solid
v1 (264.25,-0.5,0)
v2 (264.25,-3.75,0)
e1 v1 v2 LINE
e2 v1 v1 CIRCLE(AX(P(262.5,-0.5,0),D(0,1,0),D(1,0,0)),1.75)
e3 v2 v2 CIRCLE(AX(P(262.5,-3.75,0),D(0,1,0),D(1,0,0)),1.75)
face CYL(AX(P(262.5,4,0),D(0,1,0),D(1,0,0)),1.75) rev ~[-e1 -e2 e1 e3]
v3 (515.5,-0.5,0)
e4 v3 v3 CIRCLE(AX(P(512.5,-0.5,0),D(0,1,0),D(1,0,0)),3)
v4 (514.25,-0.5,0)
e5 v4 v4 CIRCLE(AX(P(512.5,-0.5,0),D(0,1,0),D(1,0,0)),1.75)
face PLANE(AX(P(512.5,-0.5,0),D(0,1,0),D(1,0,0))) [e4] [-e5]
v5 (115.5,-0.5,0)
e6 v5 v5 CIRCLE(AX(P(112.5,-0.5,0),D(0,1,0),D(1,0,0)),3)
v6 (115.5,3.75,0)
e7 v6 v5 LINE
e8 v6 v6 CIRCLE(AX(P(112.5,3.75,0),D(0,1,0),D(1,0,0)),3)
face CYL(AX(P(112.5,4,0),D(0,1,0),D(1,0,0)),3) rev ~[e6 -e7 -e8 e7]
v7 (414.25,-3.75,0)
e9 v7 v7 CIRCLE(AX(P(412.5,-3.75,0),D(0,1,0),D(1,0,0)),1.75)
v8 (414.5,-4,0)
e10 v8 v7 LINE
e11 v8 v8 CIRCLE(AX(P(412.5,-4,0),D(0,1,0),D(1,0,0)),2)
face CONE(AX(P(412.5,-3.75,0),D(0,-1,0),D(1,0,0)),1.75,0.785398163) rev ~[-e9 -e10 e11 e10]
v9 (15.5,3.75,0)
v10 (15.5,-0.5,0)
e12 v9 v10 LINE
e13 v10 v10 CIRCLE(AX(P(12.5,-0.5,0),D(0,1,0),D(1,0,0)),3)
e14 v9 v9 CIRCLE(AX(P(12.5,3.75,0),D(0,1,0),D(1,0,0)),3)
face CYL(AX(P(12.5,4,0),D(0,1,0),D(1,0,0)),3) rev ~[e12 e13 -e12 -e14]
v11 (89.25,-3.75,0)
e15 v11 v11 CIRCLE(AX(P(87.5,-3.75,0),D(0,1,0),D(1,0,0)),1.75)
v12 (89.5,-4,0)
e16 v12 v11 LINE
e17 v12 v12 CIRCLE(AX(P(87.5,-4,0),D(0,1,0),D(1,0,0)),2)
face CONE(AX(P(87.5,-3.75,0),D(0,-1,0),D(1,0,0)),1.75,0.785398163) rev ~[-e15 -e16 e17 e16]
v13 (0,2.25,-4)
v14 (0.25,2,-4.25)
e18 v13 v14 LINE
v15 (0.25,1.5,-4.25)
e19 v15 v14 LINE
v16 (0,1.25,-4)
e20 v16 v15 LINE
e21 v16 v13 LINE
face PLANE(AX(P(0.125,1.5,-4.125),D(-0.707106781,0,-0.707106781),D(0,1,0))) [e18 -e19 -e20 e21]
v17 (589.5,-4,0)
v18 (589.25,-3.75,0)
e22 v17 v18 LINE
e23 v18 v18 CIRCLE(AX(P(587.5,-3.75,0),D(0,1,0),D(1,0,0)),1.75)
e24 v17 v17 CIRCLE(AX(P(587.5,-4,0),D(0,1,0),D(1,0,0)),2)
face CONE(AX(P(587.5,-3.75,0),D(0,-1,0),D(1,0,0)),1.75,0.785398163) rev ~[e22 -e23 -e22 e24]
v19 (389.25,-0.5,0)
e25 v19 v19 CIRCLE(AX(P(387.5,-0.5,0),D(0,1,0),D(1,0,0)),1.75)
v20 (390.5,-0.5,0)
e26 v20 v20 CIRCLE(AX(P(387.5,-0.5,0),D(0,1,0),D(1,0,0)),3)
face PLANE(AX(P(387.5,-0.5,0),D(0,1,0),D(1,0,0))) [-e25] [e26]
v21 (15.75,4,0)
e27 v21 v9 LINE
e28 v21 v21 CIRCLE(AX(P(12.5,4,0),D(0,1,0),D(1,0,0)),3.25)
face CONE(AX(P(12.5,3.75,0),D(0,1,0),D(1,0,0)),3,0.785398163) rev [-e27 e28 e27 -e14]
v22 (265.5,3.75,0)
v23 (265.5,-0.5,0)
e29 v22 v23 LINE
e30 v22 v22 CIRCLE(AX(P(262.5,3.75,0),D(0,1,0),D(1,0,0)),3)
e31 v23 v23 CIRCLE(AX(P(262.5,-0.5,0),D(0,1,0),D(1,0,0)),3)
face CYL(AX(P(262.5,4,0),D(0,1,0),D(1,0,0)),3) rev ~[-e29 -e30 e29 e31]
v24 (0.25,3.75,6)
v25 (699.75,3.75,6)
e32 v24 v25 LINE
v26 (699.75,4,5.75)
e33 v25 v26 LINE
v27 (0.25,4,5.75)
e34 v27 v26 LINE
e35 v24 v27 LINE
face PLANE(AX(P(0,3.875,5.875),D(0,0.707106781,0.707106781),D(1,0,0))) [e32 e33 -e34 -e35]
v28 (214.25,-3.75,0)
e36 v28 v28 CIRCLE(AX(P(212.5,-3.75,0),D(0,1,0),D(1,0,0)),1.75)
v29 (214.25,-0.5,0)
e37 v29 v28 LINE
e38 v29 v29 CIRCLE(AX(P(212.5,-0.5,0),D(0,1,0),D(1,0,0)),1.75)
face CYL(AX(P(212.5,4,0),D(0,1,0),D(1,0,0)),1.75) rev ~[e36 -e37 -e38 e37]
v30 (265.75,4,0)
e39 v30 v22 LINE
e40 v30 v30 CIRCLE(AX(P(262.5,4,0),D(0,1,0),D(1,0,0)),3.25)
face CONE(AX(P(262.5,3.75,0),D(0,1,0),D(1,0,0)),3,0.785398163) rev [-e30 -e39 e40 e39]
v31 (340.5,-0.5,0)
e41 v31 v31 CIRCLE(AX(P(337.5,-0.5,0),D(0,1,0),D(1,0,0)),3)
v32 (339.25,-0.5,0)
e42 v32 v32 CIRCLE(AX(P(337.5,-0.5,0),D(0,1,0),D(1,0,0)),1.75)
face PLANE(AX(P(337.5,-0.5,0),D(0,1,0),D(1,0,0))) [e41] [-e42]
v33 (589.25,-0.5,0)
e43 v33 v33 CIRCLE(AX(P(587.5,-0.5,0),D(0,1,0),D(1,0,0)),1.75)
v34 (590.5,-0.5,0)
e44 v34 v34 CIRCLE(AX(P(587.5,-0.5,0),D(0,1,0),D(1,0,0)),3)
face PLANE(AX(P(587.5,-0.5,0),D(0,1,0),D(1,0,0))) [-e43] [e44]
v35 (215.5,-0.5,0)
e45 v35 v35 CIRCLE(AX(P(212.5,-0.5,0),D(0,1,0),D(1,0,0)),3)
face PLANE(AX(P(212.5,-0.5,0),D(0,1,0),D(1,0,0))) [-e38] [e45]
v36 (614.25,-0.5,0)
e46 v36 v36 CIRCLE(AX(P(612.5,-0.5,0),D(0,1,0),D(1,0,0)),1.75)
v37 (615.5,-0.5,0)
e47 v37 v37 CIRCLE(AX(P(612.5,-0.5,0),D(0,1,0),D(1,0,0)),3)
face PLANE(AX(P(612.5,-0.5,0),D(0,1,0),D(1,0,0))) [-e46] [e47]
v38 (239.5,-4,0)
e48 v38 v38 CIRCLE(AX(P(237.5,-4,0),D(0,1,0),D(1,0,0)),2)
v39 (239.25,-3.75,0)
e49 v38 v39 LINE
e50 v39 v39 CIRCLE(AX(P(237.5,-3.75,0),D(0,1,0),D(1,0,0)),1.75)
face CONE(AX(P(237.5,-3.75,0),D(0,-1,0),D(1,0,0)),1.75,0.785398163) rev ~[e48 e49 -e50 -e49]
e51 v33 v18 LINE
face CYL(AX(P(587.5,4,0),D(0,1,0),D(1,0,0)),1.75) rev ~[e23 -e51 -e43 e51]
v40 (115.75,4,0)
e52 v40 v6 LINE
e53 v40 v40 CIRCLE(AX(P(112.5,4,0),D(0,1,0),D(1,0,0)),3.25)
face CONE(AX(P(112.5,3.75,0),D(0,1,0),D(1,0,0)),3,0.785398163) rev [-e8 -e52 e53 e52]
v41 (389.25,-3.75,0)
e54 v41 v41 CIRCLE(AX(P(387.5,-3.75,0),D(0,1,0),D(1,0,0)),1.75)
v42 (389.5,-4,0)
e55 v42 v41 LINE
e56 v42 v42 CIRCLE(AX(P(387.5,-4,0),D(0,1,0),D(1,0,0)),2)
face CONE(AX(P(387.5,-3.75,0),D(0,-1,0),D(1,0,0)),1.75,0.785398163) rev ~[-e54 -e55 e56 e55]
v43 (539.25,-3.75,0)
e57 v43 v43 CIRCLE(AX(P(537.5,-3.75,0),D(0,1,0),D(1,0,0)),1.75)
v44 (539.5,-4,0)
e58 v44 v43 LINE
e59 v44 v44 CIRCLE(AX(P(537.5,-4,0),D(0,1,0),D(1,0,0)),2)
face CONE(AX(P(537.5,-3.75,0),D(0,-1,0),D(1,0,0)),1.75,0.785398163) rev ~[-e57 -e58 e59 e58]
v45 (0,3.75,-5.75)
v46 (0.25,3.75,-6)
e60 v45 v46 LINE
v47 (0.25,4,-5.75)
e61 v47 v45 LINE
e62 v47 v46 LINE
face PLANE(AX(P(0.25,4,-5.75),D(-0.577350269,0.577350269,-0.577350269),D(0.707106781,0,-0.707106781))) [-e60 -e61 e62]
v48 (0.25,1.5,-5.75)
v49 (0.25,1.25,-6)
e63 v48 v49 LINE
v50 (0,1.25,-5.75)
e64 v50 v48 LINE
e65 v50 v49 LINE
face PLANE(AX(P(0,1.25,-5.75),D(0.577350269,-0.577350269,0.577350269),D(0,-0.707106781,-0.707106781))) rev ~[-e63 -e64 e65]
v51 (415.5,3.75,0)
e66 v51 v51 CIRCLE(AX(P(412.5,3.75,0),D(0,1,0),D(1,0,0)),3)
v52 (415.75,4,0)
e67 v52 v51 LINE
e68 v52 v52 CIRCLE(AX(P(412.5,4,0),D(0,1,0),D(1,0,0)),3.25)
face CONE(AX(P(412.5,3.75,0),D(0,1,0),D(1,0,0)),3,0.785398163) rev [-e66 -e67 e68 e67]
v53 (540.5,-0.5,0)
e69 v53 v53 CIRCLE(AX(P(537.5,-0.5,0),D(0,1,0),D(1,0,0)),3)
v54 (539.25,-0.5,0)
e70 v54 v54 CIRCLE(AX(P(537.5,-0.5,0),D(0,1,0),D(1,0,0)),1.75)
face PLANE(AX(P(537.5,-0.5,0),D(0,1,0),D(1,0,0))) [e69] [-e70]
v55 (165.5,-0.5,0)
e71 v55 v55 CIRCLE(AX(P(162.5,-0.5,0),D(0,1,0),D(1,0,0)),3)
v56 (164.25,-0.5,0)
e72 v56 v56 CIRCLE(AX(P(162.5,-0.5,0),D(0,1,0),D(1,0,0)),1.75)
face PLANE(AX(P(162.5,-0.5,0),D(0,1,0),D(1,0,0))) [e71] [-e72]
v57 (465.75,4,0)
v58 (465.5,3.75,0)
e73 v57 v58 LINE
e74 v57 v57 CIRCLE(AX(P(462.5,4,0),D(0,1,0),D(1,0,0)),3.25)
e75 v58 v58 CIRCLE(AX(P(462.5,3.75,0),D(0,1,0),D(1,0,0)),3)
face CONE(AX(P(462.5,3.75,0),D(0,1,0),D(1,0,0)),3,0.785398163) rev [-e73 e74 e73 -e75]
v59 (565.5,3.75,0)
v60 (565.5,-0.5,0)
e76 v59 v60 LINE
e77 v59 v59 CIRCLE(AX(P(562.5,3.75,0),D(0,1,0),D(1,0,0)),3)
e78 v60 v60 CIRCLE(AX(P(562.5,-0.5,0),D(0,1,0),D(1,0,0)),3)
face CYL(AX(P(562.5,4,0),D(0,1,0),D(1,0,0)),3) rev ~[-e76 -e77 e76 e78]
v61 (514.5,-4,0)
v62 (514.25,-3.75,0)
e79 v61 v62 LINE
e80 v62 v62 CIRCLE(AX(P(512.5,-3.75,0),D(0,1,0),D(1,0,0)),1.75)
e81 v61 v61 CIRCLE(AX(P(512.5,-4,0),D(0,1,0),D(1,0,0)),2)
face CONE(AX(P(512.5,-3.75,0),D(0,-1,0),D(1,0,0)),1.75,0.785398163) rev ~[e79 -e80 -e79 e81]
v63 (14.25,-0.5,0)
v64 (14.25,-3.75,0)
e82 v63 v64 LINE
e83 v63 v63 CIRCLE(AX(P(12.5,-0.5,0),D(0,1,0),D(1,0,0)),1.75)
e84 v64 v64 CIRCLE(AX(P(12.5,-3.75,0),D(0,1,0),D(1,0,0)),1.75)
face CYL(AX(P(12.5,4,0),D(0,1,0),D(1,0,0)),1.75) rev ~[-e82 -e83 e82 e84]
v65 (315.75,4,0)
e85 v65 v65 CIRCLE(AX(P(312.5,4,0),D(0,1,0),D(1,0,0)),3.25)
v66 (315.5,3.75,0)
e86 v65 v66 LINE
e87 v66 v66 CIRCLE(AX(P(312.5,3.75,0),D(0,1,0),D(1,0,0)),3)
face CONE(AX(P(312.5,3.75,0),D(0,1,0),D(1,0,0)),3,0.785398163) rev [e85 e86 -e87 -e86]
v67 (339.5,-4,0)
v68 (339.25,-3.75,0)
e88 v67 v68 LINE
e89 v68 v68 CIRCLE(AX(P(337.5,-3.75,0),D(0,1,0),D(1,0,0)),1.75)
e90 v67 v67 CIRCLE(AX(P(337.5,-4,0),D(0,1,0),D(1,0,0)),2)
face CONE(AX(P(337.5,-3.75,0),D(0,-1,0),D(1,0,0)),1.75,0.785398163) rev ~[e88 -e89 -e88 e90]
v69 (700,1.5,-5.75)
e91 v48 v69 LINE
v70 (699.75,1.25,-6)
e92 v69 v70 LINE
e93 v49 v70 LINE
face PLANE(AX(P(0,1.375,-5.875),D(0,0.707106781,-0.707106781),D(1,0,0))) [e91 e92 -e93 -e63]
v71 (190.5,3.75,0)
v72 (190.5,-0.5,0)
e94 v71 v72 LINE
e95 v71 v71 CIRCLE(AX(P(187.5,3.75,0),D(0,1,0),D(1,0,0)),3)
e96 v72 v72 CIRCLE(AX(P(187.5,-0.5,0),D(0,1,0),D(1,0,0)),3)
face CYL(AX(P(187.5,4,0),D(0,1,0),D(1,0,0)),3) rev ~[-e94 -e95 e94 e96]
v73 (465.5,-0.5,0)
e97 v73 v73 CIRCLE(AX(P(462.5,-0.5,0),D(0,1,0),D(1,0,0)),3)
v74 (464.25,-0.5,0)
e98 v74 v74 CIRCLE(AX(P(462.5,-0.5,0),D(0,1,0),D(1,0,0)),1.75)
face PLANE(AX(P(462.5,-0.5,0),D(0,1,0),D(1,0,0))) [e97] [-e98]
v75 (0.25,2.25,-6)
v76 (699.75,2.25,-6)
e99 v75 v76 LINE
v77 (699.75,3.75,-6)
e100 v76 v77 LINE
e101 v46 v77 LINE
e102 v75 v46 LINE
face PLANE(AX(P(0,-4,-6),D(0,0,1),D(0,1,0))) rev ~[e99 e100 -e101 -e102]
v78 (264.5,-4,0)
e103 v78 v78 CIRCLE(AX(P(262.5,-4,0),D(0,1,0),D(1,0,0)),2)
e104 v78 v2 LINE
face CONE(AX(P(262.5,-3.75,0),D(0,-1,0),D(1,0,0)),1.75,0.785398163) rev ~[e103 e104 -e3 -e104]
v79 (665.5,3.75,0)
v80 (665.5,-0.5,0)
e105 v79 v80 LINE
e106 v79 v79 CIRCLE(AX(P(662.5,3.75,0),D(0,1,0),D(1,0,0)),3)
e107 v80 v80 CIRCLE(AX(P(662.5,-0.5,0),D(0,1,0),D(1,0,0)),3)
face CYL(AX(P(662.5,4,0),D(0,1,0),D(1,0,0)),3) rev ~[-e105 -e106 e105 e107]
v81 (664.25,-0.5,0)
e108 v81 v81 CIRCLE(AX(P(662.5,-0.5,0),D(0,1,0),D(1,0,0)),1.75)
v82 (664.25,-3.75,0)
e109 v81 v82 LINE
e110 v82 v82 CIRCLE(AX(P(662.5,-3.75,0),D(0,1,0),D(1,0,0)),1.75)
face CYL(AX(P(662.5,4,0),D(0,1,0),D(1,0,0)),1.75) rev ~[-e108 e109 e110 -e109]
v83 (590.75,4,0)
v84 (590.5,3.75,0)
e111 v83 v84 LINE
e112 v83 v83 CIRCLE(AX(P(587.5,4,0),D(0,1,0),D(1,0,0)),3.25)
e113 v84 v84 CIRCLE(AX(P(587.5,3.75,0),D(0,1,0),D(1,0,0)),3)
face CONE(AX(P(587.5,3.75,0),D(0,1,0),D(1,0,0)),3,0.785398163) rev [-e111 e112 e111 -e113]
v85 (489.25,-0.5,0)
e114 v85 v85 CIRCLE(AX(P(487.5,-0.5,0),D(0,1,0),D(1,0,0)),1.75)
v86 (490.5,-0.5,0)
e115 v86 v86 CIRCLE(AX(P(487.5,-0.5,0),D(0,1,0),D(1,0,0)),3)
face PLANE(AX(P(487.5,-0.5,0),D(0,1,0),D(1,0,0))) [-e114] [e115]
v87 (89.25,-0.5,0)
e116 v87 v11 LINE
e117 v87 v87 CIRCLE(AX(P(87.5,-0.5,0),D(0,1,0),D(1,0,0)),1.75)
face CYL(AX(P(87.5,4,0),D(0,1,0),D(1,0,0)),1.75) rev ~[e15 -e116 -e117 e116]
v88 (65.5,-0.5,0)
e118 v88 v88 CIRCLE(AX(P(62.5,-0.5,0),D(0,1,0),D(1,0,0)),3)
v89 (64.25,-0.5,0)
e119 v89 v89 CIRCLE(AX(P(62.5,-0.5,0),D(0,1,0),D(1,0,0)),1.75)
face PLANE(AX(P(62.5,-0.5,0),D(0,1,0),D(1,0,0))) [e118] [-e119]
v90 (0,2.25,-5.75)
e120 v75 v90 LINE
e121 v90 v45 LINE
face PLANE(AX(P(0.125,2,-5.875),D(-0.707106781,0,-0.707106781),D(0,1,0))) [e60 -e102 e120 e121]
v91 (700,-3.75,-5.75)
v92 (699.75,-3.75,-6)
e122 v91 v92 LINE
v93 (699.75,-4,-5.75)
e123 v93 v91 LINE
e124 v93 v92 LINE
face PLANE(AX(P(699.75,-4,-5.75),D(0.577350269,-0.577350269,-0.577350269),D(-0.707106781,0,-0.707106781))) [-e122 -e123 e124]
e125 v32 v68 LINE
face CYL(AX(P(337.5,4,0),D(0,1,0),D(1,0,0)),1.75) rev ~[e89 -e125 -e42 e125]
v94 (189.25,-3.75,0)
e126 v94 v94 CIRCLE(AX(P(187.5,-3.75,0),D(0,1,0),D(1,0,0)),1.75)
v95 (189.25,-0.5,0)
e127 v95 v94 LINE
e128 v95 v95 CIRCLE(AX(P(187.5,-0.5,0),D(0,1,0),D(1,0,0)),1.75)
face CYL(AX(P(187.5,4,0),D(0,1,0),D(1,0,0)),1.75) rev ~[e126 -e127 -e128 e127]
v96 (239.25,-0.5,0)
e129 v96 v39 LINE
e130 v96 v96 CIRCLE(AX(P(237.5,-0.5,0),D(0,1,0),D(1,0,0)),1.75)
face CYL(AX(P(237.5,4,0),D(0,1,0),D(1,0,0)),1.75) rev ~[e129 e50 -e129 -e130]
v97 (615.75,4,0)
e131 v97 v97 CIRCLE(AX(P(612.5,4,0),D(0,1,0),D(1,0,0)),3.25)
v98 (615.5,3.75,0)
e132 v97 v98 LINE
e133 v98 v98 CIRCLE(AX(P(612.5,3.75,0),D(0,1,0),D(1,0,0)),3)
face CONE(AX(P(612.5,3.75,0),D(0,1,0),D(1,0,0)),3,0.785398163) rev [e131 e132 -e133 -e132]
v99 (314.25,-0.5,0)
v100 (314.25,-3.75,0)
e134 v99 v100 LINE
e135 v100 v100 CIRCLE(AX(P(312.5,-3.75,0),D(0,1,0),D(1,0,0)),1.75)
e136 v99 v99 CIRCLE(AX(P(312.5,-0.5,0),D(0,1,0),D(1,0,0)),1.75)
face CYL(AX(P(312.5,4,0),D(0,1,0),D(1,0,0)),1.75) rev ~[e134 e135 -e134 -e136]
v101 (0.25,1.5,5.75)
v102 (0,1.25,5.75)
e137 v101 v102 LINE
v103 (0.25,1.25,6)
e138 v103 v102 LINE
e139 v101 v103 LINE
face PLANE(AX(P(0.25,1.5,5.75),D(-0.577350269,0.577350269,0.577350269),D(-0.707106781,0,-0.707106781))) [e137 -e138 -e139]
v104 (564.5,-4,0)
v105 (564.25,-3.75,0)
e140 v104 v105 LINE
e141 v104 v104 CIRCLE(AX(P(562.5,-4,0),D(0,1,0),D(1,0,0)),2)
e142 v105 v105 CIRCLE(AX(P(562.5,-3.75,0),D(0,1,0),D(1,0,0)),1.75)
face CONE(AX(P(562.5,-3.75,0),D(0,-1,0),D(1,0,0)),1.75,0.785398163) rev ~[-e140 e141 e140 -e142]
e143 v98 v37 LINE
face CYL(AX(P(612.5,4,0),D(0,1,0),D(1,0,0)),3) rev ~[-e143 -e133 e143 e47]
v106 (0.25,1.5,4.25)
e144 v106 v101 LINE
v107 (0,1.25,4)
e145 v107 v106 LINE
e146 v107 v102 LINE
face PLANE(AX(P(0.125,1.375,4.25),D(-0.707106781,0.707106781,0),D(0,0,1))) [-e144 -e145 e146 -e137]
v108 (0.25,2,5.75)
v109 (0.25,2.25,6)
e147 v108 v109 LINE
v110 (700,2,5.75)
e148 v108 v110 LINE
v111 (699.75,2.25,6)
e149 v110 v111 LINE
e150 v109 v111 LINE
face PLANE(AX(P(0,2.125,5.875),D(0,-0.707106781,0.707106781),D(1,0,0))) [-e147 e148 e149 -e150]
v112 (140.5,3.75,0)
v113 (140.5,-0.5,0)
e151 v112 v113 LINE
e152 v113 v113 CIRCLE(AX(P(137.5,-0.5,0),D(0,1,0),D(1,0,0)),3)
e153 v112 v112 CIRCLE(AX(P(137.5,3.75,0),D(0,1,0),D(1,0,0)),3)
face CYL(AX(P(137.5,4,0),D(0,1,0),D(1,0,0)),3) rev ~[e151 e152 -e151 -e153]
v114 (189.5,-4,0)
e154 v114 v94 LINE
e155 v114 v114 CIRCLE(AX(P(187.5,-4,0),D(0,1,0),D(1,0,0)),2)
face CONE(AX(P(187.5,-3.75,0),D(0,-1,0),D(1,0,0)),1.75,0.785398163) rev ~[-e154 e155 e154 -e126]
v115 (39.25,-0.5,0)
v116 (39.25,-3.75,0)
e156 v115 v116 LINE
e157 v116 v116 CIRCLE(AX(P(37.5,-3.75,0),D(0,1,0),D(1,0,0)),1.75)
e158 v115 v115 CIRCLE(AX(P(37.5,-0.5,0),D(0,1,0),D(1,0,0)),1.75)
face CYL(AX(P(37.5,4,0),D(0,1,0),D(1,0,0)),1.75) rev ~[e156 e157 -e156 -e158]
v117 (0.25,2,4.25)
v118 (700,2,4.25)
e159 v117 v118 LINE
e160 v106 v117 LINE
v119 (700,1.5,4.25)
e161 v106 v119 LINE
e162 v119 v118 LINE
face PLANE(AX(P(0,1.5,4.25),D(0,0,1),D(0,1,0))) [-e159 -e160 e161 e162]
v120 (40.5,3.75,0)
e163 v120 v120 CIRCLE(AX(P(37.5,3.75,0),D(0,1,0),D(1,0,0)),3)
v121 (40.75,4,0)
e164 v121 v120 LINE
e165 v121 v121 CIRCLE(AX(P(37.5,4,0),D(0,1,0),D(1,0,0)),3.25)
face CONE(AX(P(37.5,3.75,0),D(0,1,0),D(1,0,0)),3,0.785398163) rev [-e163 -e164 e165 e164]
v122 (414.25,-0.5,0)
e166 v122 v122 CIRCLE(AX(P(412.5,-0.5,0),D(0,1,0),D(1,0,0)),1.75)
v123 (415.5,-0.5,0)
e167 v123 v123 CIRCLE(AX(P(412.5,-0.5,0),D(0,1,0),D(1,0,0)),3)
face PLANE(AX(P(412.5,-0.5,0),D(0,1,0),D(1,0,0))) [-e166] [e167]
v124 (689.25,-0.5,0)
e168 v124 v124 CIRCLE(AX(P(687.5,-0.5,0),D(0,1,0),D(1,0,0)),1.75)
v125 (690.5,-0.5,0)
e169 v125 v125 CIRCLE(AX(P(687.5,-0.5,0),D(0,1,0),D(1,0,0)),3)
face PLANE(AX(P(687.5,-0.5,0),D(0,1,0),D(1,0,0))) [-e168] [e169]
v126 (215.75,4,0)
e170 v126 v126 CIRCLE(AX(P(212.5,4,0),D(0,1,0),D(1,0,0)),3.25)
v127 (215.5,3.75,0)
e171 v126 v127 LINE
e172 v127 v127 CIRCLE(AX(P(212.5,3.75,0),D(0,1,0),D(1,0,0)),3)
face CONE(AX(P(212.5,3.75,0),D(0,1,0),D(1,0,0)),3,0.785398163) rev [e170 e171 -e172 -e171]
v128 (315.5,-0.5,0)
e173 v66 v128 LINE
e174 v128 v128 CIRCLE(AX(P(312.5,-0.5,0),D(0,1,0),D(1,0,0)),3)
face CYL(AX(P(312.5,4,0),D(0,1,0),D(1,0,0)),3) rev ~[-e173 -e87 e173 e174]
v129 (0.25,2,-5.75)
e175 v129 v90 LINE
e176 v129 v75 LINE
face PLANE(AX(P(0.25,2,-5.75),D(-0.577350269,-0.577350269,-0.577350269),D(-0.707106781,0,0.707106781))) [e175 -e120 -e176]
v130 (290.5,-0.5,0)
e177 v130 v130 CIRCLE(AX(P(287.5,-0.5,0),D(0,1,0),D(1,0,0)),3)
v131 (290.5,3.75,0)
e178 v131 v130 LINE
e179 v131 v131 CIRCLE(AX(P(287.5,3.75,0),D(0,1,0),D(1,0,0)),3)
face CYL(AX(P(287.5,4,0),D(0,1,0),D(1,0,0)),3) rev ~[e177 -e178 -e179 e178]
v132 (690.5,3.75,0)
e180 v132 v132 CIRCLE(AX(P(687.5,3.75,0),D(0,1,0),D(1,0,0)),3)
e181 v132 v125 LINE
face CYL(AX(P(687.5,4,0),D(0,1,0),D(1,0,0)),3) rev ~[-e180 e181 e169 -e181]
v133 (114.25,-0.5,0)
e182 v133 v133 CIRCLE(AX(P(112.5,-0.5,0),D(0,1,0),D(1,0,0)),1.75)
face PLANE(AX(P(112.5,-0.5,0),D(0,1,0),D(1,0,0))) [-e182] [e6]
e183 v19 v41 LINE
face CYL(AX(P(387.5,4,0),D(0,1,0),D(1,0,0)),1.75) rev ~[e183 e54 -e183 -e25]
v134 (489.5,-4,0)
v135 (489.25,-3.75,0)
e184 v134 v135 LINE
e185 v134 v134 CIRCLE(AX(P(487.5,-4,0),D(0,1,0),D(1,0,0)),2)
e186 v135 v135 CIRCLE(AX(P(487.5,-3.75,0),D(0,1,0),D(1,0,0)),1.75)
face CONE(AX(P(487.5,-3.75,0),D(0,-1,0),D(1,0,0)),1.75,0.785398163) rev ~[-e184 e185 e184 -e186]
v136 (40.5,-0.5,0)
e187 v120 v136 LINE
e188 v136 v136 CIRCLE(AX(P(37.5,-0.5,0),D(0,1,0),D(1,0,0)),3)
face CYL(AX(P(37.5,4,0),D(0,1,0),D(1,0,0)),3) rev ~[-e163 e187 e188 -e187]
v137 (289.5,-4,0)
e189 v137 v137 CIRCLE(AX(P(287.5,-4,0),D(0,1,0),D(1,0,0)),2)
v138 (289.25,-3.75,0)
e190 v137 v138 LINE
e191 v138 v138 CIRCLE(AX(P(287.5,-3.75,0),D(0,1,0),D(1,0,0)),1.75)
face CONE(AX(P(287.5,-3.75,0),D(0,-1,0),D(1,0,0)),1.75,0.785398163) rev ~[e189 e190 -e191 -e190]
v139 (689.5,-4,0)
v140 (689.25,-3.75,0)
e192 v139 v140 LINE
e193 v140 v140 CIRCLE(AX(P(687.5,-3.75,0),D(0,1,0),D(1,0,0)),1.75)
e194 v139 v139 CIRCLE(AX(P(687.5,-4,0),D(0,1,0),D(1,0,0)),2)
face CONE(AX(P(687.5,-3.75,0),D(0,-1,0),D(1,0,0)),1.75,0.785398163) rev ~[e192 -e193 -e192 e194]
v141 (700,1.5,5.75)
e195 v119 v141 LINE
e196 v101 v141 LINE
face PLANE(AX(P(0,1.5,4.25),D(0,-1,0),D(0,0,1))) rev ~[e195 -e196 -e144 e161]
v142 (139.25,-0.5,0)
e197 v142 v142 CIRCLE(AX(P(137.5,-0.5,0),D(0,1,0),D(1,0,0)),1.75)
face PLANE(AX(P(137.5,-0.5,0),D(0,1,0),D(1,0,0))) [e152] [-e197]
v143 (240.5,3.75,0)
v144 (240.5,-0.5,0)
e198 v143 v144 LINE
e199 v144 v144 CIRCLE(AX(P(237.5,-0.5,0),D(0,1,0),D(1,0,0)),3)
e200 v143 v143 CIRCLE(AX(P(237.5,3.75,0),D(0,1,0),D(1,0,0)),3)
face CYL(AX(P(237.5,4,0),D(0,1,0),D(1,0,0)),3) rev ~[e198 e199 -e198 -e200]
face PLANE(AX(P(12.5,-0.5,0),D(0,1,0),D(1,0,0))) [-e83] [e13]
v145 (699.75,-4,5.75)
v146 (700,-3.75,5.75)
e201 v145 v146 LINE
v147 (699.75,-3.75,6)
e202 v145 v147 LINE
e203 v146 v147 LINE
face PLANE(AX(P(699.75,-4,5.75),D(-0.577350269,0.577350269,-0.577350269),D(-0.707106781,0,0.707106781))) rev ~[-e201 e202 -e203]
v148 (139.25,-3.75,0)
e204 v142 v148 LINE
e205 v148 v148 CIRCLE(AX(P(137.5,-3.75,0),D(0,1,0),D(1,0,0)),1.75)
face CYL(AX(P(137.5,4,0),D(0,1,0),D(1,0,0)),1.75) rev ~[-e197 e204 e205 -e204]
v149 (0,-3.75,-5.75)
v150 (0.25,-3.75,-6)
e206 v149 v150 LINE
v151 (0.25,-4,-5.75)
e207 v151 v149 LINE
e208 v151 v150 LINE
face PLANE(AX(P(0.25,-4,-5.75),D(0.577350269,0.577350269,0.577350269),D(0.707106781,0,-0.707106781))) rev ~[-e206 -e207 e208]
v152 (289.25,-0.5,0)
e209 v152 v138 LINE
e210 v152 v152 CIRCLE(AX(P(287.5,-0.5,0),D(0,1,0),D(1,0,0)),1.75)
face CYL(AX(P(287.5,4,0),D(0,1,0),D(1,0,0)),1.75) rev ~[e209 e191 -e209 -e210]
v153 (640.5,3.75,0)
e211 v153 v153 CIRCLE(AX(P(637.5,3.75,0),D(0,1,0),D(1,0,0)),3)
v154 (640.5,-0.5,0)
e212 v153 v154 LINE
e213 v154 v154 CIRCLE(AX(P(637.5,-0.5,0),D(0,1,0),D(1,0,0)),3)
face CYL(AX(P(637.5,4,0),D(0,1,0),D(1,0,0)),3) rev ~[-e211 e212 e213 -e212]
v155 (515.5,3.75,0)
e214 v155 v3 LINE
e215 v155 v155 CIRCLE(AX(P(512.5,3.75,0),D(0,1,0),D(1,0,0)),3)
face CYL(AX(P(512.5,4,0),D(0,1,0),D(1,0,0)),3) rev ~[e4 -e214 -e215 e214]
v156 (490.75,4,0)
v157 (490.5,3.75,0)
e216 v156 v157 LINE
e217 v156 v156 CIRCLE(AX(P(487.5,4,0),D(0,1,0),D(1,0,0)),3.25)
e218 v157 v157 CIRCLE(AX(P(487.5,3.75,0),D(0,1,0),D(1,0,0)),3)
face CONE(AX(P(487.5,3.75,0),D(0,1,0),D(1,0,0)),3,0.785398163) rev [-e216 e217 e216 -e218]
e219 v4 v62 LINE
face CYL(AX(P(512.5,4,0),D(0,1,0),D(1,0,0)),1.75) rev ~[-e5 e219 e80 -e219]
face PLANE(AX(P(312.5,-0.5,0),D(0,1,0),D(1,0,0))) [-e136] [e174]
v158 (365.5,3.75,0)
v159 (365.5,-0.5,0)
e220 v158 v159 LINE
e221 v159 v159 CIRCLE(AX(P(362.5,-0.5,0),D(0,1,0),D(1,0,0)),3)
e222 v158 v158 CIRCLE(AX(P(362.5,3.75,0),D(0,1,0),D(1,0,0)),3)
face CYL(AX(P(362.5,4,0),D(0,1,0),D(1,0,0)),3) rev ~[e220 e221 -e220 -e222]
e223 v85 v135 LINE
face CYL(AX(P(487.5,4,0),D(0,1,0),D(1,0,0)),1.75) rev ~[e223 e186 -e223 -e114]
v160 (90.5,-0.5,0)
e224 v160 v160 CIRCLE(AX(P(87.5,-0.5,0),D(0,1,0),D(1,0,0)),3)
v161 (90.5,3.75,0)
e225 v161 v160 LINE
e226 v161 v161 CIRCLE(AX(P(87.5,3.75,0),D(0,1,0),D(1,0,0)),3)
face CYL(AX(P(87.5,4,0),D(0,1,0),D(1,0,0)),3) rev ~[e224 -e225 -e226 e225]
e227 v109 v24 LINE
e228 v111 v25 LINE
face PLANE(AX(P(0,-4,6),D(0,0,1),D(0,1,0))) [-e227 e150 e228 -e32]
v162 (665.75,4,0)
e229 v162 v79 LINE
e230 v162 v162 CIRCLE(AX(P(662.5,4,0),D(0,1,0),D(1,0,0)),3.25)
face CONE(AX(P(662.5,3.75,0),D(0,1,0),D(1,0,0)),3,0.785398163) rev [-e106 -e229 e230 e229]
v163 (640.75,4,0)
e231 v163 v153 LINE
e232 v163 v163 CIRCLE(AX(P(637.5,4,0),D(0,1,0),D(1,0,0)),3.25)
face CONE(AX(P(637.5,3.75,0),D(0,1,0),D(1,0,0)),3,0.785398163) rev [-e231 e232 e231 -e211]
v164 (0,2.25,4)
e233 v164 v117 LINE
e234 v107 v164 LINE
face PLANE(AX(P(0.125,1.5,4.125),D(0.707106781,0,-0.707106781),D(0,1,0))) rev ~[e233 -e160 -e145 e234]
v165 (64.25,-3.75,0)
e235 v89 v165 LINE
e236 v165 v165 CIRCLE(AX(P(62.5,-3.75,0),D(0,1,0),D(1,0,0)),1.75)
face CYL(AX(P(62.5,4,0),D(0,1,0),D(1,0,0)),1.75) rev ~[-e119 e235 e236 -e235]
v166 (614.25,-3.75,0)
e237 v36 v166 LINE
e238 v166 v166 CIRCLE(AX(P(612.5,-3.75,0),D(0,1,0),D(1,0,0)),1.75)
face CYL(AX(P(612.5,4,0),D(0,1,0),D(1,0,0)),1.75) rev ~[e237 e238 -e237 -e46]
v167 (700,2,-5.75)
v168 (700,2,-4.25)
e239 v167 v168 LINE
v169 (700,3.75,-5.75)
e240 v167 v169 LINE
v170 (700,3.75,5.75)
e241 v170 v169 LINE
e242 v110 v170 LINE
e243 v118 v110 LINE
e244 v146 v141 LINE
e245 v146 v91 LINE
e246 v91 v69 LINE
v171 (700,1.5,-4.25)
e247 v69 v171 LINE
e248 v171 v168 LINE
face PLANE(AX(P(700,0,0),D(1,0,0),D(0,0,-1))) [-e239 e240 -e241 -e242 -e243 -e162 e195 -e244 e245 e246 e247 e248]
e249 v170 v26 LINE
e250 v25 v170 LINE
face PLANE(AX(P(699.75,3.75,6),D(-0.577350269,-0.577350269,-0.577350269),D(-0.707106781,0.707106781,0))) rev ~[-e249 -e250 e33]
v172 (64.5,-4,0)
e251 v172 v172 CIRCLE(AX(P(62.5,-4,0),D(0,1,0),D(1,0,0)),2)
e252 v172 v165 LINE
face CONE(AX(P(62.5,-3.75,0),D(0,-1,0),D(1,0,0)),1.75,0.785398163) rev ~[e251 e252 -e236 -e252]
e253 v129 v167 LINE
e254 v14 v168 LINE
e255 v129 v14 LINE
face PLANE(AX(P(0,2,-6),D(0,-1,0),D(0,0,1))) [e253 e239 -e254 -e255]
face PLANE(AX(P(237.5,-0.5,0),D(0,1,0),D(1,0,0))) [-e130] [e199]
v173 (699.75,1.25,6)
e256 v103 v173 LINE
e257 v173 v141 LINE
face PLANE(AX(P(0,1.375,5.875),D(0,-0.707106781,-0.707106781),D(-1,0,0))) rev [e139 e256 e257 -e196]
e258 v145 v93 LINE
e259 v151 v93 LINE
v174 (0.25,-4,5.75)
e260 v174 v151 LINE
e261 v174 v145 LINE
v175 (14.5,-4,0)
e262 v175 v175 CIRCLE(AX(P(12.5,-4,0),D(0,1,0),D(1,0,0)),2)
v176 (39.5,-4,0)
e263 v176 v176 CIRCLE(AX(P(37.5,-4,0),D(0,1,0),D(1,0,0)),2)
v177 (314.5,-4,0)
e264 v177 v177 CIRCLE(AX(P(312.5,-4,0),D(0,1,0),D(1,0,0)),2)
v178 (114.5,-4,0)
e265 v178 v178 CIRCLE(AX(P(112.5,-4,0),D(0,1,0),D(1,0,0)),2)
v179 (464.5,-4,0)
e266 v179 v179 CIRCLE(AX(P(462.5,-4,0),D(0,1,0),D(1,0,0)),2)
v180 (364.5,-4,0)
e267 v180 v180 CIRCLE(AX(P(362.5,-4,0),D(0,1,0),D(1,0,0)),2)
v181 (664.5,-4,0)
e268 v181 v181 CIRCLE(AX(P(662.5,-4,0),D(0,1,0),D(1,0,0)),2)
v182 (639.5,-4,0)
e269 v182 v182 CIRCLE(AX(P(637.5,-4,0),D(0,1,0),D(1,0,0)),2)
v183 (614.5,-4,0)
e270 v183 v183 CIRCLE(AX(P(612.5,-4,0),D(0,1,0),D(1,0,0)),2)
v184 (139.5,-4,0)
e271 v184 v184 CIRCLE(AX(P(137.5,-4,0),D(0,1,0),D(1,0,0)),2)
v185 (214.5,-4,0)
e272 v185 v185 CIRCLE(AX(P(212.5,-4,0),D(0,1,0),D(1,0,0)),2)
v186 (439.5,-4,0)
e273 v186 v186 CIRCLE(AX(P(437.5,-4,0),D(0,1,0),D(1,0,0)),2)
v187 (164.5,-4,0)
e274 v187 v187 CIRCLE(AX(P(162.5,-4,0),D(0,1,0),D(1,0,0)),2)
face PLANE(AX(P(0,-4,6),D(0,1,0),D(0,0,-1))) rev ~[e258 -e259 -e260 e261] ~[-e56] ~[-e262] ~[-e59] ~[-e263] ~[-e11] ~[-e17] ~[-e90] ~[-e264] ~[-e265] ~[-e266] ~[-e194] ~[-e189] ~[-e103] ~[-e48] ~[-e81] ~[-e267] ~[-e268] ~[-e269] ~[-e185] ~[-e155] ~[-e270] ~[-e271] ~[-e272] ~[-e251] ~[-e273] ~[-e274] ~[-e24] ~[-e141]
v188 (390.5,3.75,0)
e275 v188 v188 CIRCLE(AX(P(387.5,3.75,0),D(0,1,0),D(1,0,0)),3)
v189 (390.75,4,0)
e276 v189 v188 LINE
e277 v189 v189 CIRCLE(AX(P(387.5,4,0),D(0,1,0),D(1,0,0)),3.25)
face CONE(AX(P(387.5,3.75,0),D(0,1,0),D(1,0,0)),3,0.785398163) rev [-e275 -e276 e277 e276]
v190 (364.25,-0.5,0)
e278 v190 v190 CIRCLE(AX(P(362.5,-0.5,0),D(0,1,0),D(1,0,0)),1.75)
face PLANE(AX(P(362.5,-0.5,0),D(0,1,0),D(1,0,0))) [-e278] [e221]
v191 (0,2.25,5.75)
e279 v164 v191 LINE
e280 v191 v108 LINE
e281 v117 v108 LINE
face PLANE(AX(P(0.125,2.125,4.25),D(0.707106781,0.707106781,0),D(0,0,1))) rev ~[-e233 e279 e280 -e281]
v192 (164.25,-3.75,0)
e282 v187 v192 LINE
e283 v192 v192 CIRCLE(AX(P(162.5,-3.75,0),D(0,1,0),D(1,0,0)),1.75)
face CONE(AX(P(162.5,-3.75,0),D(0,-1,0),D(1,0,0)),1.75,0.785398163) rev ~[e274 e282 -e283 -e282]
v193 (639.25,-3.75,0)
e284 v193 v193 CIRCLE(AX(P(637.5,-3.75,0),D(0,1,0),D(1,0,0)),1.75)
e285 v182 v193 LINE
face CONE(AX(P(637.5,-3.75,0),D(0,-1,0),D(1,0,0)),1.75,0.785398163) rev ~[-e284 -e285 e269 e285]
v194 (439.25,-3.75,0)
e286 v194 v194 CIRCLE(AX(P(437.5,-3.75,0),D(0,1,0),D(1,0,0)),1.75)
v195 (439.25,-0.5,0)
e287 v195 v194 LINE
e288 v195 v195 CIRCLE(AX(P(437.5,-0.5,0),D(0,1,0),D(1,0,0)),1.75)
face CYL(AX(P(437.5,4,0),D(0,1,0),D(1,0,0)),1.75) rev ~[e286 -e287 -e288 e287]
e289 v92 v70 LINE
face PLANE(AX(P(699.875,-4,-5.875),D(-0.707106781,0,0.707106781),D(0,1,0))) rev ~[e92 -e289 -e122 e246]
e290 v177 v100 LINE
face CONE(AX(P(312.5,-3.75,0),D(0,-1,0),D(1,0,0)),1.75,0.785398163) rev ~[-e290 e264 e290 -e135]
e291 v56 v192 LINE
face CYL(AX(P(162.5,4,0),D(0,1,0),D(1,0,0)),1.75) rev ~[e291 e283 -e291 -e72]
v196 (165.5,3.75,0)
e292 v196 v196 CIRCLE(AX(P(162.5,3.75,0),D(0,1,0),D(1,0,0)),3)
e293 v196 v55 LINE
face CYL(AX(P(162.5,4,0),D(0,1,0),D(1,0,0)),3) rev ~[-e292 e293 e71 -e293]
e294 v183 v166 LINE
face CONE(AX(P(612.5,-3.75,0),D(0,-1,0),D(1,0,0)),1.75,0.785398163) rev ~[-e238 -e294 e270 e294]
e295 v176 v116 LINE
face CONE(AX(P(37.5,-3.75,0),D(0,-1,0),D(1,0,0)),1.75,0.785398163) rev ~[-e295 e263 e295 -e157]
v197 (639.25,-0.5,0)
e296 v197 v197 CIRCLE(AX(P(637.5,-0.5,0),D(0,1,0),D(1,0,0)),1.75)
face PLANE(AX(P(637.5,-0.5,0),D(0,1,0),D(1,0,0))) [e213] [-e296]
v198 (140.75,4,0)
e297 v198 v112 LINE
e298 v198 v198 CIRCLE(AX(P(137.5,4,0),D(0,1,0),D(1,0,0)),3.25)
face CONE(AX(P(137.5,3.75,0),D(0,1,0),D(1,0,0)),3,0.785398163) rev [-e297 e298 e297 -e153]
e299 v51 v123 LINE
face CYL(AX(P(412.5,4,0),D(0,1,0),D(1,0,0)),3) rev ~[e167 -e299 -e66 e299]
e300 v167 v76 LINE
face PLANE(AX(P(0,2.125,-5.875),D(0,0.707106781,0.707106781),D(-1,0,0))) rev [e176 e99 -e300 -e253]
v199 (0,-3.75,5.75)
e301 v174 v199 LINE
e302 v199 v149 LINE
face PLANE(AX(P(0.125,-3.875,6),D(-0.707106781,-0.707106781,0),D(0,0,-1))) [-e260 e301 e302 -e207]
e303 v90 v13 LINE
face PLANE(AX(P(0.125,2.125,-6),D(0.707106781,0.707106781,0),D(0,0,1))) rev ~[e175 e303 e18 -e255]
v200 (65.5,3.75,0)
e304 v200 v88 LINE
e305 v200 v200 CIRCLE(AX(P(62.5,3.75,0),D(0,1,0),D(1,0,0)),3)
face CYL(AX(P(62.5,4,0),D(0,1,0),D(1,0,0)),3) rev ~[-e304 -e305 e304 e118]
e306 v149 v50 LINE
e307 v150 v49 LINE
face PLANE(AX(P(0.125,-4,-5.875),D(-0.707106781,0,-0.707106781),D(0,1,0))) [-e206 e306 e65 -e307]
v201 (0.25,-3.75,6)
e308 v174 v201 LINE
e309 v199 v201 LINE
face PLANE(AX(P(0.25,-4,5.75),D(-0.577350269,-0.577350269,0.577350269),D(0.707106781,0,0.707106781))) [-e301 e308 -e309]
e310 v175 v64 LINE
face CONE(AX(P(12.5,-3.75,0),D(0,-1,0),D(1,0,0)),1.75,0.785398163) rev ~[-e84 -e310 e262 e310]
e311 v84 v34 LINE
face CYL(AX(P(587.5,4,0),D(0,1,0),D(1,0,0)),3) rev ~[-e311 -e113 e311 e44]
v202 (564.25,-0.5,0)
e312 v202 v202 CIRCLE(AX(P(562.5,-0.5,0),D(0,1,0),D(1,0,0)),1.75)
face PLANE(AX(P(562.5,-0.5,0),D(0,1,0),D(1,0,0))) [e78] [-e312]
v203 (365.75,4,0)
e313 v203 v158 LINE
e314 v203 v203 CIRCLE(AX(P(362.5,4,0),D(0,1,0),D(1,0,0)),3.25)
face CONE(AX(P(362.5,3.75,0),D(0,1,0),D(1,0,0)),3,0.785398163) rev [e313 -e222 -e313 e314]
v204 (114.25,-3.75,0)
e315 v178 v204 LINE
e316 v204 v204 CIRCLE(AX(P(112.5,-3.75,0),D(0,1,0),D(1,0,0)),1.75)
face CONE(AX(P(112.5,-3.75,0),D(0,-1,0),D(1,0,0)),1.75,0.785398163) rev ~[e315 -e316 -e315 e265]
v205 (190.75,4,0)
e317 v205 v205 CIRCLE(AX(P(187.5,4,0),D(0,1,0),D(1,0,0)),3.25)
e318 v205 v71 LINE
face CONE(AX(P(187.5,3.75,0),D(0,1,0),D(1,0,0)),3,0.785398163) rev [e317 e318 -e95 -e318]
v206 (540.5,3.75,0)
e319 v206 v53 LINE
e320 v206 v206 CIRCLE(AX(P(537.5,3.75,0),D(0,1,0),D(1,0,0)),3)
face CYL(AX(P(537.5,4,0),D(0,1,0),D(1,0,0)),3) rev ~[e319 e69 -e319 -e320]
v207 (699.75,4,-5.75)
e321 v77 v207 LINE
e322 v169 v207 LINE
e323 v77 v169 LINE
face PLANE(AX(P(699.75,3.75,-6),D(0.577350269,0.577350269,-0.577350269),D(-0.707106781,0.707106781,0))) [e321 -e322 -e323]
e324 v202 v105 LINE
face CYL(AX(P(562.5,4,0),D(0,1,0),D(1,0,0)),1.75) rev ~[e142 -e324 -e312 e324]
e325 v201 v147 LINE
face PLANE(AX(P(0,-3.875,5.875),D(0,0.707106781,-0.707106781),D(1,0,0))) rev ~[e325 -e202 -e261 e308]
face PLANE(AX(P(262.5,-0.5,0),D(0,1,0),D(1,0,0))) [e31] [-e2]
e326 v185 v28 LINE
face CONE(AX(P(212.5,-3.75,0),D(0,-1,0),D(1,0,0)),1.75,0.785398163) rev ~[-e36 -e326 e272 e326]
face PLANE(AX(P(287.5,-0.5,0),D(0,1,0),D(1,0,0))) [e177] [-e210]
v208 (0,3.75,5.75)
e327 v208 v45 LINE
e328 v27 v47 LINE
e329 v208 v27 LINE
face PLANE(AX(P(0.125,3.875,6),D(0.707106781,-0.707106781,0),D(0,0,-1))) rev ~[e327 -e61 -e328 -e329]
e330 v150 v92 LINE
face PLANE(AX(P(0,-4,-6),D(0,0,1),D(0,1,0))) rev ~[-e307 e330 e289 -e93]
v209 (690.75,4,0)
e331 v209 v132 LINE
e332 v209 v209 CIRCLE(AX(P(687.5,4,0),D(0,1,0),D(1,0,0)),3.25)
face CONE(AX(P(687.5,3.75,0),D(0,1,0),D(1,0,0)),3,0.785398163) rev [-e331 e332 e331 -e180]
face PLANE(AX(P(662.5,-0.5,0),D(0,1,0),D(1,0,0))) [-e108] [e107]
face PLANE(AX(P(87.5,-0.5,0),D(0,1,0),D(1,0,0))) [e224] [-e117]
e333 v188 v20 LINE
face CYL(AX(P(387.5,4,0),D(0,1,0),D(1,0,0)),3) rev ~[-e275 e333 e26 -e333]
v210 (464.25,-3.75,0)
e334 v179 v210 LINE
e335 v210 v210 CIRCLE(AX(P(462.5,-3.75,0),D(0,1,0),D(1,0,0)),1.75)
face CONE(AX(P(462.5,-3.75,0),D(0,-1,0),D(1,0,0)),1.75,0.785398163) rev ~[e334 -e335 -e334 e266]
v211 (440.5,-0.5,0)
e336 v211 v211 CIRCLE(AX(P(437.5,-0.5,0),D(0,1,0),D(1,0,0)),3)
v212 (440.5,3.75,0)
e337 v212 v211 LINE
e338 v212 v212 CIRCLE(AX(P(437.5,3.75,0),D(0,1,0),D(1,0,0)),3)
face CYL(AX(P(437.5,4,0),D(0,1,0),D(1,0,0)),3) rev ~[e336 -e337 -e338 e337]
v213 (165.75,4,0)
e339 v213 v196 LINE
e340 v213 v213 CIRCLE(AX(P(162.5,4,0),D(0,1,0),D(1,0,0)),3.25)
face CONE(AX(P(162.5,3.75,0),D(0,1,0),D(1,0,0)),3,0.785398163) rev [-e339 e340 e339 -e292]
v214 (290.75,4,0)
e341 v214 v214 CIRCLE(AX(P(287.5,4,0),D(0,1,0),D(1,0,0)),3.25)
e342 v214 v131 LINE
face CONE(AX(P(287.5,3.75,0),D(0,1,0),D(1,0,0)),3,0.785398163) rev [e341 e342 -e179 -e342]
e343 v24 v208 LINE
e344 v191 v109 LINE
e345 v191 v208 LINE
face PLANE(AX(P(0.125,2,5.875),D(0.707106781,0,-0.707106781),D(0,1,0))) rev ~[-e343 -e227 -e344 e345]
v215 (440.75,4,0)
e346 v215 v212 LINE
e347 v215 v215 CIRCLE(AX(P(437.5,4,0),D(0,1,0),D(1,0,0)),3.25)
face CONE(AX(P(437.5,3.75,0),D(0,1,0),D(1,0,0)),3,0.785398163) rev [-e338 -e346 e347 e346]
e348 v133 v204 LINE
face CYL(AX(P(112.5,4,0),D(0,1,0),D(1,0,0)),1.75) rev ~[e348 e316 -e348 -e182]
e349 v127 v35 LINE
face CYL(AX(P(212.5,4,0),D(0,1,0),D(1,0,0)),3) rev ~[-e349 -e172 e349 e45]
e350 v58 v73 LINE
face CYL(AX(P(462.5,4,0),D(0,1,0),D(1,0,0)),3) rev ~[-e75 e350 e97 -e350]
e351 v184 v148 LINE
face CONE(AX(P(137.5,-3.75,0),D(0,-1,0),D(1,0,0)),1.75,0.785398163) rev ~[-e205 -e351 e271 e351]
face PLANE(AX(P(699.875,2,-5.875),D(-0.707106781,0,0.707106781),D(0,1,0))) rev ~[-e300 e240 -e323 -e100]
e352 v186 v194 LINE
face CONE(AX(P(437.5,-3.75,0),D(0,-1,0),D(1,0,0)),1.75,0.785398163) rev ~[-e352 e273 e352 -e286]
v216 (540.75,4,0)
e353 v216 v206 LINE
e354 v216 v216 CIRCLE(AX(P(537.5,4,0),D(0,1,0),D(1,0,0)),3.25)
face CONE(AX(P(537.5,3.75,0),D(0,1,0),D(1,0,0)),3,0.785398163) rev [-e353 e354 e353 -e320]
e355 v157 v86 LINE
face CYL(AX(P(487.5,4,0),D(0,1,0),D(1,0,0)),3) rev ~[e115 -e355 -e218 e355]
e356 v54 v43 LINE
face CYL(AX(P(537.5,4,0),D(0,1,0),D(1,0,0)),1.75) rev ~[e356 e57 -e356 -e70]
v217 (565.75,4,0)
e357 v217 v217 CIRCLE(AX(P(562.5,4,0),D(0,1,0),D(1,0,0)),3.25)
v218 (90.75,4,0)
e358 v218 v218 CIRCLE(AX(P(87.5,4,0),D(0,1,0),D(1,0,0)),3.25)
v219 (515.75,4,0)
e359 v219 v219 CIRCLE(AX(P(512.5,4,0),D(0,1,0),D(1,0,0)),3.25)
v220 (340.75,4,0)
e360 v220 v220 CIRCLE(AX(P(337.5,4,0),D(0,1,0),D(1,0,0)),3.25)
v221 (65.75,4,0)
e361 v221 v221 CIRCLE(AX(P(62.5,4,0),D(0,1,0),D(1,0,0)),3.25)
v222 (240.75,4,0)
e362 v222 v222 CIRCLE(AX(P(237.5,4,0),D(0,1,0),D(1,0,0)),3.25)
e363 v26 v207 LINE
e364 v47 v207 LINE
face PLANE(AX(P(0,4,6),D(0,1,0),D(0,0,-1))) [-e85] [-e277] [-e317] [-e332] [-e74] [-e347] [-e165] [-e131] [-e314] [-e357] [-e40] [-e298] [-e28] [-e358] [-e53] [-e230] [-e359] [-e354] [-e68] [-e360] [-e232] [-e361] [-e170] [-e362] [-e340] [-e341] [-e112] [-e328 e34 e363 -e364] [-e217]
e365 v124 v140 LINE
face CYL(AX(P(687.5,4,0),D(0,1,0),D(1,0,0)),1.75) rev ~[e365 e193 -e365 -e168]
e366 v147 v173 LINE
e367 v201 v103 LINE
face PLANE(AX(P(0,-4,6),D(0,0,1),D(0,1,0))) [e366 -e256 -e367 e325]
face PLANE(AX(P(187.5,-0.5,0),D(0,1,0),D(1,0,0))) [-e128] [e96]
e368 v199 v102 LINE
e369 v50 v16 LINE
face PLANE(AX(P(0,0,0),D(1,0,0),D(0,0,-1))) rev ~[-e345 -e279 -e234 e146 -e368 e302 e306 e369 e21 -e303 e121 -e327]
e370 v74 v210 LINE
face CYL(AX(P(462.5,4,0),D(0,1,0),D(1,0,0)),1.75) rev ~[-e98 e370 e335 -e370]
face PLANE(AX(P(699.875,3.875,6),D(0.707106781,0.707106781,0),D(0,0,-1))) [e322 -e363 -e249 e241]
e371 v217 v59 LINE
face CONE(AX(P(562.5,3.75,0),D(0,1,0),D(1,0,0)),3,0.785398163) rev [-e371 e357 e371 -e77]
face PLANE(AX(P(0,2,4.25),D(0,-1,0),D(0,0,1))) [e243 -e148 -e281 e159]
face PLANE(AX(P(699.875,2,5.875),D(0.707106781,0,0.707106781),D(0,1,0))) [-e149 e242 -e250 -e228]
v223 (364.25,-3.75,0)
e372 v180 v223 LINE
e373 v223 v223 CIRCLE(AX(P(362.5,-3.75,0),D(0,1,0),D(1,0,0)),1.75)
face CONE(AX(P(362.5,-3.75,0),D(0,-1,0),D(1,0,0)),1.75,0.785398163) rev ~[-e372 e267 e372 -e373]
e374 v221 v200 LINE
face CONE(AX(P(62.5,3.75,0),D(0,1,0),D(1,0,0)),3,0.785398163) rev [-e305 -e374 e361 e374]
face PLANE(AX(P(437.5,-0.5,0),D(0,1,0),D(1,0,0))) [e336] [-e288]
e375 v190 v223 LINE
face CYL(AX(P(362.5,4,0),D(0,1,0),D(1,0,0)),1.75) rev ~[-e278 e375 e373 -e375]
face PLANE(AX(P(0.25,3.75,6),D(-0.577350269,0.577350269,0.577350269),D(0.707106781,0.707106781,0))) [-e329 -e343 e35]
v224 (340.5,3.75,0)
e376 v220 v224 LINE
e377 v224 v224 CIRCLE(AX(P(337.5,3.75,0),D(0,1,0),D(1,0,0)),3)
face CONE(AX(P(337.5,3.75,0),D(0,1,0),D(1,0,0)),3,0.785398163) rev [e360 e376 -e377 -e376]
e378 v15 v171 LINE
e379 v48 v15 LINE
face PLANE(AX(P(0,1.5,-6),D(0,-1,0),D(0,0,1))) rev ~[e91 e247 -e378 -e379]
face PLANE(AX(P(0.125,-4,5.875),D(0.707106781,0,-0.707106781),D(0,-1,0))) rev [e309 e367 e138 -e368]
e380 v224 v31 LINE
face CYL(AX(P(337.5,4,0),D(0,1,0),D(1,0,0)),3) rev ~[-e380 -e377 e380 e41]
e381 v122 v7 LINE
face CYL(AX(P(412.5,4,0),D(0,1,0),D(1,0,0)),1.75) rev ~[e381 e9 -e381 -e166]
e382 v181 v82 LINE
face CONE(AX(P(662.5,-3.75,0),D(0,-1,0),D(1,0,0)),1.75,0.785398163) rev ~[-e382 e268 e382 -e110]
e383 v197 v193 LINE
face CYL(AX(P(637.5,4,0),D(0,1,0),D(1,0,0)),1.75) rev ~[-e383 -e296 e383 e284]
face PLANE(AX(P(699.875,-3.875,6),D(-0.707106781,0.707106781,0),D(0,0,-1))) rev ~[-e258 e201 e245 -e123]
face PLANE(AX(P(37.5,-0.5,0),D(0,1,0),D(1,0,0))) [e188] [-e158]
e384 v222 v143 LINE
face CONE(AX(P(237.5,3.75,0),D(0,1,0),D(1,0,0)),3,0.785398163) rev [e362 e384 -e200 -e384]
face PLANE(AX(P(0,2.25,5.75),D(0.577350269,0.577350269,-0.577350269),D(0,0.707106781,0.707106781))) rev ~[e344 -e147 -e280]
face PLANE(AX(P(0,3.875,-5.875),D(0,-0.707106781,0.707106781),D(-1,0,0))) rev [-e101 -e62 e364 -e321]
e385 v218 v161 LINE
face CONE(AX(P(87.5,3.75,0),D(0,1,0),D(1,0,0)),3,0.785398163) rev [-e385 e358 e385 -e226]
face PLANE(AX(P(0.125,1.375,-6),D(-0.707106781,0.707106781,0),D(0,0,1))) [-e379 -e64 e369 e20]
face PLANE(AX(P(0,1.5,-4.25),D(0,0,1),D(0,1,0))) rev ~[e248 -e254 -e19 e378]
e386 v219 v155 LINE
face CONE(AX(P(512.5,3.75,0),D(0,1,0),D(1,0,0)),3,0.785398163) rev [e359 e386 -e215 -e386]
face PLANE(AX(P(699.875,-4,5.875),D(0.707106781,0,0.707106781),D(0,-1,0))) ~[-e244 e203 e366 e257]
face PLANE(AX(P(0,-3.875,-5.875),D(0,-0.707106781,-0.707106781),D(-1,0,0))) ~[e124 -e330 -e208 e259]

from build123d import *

# Parameters (mm, degrees)
SKETCH1_W            = 12
SKETCH1_H            = 8
BOSS_EXTRUDE1_DEPTH  = 700
CUT_EXTRUDE3_REACH   = 702.037
SKETCH4_W            = 1.75
SKETCH4_H            = 0.5
SKETCH5_R            = 1.75
CUT_EXTRUDE4_DEPTH   = 701.071424927
SKETCH5_3_R          = 3
SKETCH5_3_R_2        = 1.75
CUT_EXTRUDE5_DEPTH   = 4.5
LPATTERN1_COUNT      = 14
LPATTERN1_PITCH      = 25
LPATTERN1_COUNT_DIR2 = 15
LPATTERN1_PITCH_DIR2 = 25
CHAMFER1_SIZE        = 0.25


with BuildPart() as part:
    # Sketch1 → Boss-Extrude1 (new body)
    with BuildSketch(Plane(origin=(0, 0, 0), x_dir=(0, 0, -1), z_dir=(1, 0, 0))):
        Rectangle(SKETCH1_W, SKETCH1_H)
    extrude(amount=BOSS_EXTRUDE1_DEPTH)

    # Sketch4 → Cut-Extrude3 (cut, up to next)
    with BuildSketch(Plane.ZY, mode=Mode.PRIVATE) as cut_extrude3_sk1:
        with Locations((-5.125, 1.75)):
            Rectangle(SKETCH4_W, SKETCH4_H)
    cut_extrude3_tool1 = extrude(cut_extrude3_sk1.sketch, amount=-CUT_EXTRUDE3_REACH, mode=Mode.PRIVATE) & part.part
    # Sketch4 → Cut-Extrude3 (cut, up to next)
    with BuildSketch(Plane.ZY, mode=Mode.PRIVATE) as cut_extrude3_sk2:
        with Locations((5.125, 1.75)):
            Rectangle(SKETCH4_W, SKETCH4_H)
    cut_extrude3_tool2 = extrude(cut_extrude3_sk2.sketch, amount=-CUT_EXTRUDE3_REACH, mode=Mode.PRIVATE) & part.part
    add(cut_extrude3_tool1.solids().sort_by_distance((0, 1.75, -5.125))[0], mode=Mode.SUBTRACT)
    add(cut_extrude3_tool2.solids().sort_by_distance((0, 1.75, 5.125))[0], mode=Mode.SUBTRACT)

    # Sketch5 → Cut-Extrude4 (cut, through all)
    with BuildSketch(Plane(origin=(0, 4, 0), x_dir=(1, 0, 0), z_dir=(0, 1, 0))):
        with Locations((337.5, 0)):
            Circle(SKETCH5_R)
    cut_extrude4 = extrude(amount=-CUT_EXTRUDE4_DEPTH, mode=Mode.SUBTRACT)

    # Sketch5<3> → Cut-Extrude5 (cut)
    with BuildSketch(Plane(origin=(0, 4, 0), x_dir=(1, 0, 0), z_dir=(0, 1, 0))):
        with Locations((337.5, 0)):
            Circle(SKETCH5_3_R)
        with Locations((337.5, 0)):
            Circle(SKETCH5_3_R_2, mode=Mode.SUBTRACT)
    cut_extrude5 = extrude(amount=-CUT_EXTRUDE5_DEPTH, mode=Mode.SUBTRACT)

    # LPattern1: Cut-Extrude4, Cut-Extrude5 14 × 15
    with Locations(*[Vector(-1, 0, 0) * (i * LPATTERN1_PITCH) + Vector(1, 0, 0) * (j * LPATTERN1_PITCH_DIR2) for i in range(LPATTERN1_COUNT) for j in range(LPATTERN1_COUNT_DIR2) if (i, j) != (0, 0)]):
        add(cut_extrude4, mode=Mode.SUBTRACT)
        add(cut_extrude5, mode=Mode.SUBTRACT)

    # Chamfer1
    chamfer1_edges = [part.edges().sort_by_distance(p)[0] for p in [
        (335.75, -4, 0),
        (360.75, -4, 0),
        (385.75, -4, 0),
        (410.75, -4, 0),
        (435.75, -4, 0),
        (460.75, -4, 0),
        (485.75, -4, 0),
        (510.75, -4, 0),
        (535.75, -4, 0),
        (560.75, -4, 0),
        (585.75, -4, 0),
        (610.75, -4, 0),
        (635.75, -4, 0),
        (660.75, -4, 0),
        (685.75, -4, 0),
        (310.75, -4, 0),
        (285.75, -4, 0),
        (260.75, -4, 0),
        (235.75, -4, 0),
        (210.75, -4, 0),
        (185.75, -4, 0),
        (160.75, -4, 0),
        (135.75, -4, 0),
        (110.75, -4, 0),
        (85.75, -4, 0),
        (60.75, -4, 0),
        (35.75, -4, 0),
        (10.75, -4, 0),
        (700, -4, 0),
        (350, 2, -6),
        (700, 3, -6),
        (350, -4, -6),
        (700, -1.25, -6),
        (350, 1.5, -6),
        (700, 3, 6),
        (350, 2, 6),
        (350, -4, 6),
        (700, -1.25, 6),
        (350, 1.5, 6),
        (0, -4, 0),
        (0, -1.25, -6),
        (0, 1.5, -5.125),
        (0, 1.75, -4.25),
        (0, 2, -5.125),
        (0, 3, -6),
        (0, -1.25, 6),
        (0, 1.5, 5.125),
        (0, 1.75, 4.25),
        (0, 2, 5.125),
        (0, 3, 6),
        (350, 4, -6),
        (700, 4, 0),
        (350, 4, 6),
        (0, 4, 0),
        (334.5, 4, 0),
        (359.5, 4, 0),
        (384.5, 4, 0),
        (409.5, 4, 0),
        (434.5, 4, 0),
        (459.5, 4, 0),
        (484.5, 4, 0),
        (509.5, 4, 0),
        (534.5, 4, 0),
        (559.5, 4, 0),
        (584.5, 4, 0),
        (609.5, 4, 0),
        (634.5, 4, 0),
        (659.5, 4, 0),
        (684.5, 4, 0),
        (309.5, 4, 0),
        (284.5, 4, 0),
        (259.5, 4, 0),
        (234.5, 4, 0),
        (209.5, 4, 0),
        (184.5, 4, 0),
        (159.5, 4, 0),
        (134.5, 4, 0),
        (109.5, 4, 0),
        (84.5, 4, 0),
        (59.5, 4, 0),
        (34.5, 4, 0),
        (9.5, 4, 0),
    ]]
    chamfer(chamfer1_edges, length=CHAMFER1_SIZE)


solid = part.part
